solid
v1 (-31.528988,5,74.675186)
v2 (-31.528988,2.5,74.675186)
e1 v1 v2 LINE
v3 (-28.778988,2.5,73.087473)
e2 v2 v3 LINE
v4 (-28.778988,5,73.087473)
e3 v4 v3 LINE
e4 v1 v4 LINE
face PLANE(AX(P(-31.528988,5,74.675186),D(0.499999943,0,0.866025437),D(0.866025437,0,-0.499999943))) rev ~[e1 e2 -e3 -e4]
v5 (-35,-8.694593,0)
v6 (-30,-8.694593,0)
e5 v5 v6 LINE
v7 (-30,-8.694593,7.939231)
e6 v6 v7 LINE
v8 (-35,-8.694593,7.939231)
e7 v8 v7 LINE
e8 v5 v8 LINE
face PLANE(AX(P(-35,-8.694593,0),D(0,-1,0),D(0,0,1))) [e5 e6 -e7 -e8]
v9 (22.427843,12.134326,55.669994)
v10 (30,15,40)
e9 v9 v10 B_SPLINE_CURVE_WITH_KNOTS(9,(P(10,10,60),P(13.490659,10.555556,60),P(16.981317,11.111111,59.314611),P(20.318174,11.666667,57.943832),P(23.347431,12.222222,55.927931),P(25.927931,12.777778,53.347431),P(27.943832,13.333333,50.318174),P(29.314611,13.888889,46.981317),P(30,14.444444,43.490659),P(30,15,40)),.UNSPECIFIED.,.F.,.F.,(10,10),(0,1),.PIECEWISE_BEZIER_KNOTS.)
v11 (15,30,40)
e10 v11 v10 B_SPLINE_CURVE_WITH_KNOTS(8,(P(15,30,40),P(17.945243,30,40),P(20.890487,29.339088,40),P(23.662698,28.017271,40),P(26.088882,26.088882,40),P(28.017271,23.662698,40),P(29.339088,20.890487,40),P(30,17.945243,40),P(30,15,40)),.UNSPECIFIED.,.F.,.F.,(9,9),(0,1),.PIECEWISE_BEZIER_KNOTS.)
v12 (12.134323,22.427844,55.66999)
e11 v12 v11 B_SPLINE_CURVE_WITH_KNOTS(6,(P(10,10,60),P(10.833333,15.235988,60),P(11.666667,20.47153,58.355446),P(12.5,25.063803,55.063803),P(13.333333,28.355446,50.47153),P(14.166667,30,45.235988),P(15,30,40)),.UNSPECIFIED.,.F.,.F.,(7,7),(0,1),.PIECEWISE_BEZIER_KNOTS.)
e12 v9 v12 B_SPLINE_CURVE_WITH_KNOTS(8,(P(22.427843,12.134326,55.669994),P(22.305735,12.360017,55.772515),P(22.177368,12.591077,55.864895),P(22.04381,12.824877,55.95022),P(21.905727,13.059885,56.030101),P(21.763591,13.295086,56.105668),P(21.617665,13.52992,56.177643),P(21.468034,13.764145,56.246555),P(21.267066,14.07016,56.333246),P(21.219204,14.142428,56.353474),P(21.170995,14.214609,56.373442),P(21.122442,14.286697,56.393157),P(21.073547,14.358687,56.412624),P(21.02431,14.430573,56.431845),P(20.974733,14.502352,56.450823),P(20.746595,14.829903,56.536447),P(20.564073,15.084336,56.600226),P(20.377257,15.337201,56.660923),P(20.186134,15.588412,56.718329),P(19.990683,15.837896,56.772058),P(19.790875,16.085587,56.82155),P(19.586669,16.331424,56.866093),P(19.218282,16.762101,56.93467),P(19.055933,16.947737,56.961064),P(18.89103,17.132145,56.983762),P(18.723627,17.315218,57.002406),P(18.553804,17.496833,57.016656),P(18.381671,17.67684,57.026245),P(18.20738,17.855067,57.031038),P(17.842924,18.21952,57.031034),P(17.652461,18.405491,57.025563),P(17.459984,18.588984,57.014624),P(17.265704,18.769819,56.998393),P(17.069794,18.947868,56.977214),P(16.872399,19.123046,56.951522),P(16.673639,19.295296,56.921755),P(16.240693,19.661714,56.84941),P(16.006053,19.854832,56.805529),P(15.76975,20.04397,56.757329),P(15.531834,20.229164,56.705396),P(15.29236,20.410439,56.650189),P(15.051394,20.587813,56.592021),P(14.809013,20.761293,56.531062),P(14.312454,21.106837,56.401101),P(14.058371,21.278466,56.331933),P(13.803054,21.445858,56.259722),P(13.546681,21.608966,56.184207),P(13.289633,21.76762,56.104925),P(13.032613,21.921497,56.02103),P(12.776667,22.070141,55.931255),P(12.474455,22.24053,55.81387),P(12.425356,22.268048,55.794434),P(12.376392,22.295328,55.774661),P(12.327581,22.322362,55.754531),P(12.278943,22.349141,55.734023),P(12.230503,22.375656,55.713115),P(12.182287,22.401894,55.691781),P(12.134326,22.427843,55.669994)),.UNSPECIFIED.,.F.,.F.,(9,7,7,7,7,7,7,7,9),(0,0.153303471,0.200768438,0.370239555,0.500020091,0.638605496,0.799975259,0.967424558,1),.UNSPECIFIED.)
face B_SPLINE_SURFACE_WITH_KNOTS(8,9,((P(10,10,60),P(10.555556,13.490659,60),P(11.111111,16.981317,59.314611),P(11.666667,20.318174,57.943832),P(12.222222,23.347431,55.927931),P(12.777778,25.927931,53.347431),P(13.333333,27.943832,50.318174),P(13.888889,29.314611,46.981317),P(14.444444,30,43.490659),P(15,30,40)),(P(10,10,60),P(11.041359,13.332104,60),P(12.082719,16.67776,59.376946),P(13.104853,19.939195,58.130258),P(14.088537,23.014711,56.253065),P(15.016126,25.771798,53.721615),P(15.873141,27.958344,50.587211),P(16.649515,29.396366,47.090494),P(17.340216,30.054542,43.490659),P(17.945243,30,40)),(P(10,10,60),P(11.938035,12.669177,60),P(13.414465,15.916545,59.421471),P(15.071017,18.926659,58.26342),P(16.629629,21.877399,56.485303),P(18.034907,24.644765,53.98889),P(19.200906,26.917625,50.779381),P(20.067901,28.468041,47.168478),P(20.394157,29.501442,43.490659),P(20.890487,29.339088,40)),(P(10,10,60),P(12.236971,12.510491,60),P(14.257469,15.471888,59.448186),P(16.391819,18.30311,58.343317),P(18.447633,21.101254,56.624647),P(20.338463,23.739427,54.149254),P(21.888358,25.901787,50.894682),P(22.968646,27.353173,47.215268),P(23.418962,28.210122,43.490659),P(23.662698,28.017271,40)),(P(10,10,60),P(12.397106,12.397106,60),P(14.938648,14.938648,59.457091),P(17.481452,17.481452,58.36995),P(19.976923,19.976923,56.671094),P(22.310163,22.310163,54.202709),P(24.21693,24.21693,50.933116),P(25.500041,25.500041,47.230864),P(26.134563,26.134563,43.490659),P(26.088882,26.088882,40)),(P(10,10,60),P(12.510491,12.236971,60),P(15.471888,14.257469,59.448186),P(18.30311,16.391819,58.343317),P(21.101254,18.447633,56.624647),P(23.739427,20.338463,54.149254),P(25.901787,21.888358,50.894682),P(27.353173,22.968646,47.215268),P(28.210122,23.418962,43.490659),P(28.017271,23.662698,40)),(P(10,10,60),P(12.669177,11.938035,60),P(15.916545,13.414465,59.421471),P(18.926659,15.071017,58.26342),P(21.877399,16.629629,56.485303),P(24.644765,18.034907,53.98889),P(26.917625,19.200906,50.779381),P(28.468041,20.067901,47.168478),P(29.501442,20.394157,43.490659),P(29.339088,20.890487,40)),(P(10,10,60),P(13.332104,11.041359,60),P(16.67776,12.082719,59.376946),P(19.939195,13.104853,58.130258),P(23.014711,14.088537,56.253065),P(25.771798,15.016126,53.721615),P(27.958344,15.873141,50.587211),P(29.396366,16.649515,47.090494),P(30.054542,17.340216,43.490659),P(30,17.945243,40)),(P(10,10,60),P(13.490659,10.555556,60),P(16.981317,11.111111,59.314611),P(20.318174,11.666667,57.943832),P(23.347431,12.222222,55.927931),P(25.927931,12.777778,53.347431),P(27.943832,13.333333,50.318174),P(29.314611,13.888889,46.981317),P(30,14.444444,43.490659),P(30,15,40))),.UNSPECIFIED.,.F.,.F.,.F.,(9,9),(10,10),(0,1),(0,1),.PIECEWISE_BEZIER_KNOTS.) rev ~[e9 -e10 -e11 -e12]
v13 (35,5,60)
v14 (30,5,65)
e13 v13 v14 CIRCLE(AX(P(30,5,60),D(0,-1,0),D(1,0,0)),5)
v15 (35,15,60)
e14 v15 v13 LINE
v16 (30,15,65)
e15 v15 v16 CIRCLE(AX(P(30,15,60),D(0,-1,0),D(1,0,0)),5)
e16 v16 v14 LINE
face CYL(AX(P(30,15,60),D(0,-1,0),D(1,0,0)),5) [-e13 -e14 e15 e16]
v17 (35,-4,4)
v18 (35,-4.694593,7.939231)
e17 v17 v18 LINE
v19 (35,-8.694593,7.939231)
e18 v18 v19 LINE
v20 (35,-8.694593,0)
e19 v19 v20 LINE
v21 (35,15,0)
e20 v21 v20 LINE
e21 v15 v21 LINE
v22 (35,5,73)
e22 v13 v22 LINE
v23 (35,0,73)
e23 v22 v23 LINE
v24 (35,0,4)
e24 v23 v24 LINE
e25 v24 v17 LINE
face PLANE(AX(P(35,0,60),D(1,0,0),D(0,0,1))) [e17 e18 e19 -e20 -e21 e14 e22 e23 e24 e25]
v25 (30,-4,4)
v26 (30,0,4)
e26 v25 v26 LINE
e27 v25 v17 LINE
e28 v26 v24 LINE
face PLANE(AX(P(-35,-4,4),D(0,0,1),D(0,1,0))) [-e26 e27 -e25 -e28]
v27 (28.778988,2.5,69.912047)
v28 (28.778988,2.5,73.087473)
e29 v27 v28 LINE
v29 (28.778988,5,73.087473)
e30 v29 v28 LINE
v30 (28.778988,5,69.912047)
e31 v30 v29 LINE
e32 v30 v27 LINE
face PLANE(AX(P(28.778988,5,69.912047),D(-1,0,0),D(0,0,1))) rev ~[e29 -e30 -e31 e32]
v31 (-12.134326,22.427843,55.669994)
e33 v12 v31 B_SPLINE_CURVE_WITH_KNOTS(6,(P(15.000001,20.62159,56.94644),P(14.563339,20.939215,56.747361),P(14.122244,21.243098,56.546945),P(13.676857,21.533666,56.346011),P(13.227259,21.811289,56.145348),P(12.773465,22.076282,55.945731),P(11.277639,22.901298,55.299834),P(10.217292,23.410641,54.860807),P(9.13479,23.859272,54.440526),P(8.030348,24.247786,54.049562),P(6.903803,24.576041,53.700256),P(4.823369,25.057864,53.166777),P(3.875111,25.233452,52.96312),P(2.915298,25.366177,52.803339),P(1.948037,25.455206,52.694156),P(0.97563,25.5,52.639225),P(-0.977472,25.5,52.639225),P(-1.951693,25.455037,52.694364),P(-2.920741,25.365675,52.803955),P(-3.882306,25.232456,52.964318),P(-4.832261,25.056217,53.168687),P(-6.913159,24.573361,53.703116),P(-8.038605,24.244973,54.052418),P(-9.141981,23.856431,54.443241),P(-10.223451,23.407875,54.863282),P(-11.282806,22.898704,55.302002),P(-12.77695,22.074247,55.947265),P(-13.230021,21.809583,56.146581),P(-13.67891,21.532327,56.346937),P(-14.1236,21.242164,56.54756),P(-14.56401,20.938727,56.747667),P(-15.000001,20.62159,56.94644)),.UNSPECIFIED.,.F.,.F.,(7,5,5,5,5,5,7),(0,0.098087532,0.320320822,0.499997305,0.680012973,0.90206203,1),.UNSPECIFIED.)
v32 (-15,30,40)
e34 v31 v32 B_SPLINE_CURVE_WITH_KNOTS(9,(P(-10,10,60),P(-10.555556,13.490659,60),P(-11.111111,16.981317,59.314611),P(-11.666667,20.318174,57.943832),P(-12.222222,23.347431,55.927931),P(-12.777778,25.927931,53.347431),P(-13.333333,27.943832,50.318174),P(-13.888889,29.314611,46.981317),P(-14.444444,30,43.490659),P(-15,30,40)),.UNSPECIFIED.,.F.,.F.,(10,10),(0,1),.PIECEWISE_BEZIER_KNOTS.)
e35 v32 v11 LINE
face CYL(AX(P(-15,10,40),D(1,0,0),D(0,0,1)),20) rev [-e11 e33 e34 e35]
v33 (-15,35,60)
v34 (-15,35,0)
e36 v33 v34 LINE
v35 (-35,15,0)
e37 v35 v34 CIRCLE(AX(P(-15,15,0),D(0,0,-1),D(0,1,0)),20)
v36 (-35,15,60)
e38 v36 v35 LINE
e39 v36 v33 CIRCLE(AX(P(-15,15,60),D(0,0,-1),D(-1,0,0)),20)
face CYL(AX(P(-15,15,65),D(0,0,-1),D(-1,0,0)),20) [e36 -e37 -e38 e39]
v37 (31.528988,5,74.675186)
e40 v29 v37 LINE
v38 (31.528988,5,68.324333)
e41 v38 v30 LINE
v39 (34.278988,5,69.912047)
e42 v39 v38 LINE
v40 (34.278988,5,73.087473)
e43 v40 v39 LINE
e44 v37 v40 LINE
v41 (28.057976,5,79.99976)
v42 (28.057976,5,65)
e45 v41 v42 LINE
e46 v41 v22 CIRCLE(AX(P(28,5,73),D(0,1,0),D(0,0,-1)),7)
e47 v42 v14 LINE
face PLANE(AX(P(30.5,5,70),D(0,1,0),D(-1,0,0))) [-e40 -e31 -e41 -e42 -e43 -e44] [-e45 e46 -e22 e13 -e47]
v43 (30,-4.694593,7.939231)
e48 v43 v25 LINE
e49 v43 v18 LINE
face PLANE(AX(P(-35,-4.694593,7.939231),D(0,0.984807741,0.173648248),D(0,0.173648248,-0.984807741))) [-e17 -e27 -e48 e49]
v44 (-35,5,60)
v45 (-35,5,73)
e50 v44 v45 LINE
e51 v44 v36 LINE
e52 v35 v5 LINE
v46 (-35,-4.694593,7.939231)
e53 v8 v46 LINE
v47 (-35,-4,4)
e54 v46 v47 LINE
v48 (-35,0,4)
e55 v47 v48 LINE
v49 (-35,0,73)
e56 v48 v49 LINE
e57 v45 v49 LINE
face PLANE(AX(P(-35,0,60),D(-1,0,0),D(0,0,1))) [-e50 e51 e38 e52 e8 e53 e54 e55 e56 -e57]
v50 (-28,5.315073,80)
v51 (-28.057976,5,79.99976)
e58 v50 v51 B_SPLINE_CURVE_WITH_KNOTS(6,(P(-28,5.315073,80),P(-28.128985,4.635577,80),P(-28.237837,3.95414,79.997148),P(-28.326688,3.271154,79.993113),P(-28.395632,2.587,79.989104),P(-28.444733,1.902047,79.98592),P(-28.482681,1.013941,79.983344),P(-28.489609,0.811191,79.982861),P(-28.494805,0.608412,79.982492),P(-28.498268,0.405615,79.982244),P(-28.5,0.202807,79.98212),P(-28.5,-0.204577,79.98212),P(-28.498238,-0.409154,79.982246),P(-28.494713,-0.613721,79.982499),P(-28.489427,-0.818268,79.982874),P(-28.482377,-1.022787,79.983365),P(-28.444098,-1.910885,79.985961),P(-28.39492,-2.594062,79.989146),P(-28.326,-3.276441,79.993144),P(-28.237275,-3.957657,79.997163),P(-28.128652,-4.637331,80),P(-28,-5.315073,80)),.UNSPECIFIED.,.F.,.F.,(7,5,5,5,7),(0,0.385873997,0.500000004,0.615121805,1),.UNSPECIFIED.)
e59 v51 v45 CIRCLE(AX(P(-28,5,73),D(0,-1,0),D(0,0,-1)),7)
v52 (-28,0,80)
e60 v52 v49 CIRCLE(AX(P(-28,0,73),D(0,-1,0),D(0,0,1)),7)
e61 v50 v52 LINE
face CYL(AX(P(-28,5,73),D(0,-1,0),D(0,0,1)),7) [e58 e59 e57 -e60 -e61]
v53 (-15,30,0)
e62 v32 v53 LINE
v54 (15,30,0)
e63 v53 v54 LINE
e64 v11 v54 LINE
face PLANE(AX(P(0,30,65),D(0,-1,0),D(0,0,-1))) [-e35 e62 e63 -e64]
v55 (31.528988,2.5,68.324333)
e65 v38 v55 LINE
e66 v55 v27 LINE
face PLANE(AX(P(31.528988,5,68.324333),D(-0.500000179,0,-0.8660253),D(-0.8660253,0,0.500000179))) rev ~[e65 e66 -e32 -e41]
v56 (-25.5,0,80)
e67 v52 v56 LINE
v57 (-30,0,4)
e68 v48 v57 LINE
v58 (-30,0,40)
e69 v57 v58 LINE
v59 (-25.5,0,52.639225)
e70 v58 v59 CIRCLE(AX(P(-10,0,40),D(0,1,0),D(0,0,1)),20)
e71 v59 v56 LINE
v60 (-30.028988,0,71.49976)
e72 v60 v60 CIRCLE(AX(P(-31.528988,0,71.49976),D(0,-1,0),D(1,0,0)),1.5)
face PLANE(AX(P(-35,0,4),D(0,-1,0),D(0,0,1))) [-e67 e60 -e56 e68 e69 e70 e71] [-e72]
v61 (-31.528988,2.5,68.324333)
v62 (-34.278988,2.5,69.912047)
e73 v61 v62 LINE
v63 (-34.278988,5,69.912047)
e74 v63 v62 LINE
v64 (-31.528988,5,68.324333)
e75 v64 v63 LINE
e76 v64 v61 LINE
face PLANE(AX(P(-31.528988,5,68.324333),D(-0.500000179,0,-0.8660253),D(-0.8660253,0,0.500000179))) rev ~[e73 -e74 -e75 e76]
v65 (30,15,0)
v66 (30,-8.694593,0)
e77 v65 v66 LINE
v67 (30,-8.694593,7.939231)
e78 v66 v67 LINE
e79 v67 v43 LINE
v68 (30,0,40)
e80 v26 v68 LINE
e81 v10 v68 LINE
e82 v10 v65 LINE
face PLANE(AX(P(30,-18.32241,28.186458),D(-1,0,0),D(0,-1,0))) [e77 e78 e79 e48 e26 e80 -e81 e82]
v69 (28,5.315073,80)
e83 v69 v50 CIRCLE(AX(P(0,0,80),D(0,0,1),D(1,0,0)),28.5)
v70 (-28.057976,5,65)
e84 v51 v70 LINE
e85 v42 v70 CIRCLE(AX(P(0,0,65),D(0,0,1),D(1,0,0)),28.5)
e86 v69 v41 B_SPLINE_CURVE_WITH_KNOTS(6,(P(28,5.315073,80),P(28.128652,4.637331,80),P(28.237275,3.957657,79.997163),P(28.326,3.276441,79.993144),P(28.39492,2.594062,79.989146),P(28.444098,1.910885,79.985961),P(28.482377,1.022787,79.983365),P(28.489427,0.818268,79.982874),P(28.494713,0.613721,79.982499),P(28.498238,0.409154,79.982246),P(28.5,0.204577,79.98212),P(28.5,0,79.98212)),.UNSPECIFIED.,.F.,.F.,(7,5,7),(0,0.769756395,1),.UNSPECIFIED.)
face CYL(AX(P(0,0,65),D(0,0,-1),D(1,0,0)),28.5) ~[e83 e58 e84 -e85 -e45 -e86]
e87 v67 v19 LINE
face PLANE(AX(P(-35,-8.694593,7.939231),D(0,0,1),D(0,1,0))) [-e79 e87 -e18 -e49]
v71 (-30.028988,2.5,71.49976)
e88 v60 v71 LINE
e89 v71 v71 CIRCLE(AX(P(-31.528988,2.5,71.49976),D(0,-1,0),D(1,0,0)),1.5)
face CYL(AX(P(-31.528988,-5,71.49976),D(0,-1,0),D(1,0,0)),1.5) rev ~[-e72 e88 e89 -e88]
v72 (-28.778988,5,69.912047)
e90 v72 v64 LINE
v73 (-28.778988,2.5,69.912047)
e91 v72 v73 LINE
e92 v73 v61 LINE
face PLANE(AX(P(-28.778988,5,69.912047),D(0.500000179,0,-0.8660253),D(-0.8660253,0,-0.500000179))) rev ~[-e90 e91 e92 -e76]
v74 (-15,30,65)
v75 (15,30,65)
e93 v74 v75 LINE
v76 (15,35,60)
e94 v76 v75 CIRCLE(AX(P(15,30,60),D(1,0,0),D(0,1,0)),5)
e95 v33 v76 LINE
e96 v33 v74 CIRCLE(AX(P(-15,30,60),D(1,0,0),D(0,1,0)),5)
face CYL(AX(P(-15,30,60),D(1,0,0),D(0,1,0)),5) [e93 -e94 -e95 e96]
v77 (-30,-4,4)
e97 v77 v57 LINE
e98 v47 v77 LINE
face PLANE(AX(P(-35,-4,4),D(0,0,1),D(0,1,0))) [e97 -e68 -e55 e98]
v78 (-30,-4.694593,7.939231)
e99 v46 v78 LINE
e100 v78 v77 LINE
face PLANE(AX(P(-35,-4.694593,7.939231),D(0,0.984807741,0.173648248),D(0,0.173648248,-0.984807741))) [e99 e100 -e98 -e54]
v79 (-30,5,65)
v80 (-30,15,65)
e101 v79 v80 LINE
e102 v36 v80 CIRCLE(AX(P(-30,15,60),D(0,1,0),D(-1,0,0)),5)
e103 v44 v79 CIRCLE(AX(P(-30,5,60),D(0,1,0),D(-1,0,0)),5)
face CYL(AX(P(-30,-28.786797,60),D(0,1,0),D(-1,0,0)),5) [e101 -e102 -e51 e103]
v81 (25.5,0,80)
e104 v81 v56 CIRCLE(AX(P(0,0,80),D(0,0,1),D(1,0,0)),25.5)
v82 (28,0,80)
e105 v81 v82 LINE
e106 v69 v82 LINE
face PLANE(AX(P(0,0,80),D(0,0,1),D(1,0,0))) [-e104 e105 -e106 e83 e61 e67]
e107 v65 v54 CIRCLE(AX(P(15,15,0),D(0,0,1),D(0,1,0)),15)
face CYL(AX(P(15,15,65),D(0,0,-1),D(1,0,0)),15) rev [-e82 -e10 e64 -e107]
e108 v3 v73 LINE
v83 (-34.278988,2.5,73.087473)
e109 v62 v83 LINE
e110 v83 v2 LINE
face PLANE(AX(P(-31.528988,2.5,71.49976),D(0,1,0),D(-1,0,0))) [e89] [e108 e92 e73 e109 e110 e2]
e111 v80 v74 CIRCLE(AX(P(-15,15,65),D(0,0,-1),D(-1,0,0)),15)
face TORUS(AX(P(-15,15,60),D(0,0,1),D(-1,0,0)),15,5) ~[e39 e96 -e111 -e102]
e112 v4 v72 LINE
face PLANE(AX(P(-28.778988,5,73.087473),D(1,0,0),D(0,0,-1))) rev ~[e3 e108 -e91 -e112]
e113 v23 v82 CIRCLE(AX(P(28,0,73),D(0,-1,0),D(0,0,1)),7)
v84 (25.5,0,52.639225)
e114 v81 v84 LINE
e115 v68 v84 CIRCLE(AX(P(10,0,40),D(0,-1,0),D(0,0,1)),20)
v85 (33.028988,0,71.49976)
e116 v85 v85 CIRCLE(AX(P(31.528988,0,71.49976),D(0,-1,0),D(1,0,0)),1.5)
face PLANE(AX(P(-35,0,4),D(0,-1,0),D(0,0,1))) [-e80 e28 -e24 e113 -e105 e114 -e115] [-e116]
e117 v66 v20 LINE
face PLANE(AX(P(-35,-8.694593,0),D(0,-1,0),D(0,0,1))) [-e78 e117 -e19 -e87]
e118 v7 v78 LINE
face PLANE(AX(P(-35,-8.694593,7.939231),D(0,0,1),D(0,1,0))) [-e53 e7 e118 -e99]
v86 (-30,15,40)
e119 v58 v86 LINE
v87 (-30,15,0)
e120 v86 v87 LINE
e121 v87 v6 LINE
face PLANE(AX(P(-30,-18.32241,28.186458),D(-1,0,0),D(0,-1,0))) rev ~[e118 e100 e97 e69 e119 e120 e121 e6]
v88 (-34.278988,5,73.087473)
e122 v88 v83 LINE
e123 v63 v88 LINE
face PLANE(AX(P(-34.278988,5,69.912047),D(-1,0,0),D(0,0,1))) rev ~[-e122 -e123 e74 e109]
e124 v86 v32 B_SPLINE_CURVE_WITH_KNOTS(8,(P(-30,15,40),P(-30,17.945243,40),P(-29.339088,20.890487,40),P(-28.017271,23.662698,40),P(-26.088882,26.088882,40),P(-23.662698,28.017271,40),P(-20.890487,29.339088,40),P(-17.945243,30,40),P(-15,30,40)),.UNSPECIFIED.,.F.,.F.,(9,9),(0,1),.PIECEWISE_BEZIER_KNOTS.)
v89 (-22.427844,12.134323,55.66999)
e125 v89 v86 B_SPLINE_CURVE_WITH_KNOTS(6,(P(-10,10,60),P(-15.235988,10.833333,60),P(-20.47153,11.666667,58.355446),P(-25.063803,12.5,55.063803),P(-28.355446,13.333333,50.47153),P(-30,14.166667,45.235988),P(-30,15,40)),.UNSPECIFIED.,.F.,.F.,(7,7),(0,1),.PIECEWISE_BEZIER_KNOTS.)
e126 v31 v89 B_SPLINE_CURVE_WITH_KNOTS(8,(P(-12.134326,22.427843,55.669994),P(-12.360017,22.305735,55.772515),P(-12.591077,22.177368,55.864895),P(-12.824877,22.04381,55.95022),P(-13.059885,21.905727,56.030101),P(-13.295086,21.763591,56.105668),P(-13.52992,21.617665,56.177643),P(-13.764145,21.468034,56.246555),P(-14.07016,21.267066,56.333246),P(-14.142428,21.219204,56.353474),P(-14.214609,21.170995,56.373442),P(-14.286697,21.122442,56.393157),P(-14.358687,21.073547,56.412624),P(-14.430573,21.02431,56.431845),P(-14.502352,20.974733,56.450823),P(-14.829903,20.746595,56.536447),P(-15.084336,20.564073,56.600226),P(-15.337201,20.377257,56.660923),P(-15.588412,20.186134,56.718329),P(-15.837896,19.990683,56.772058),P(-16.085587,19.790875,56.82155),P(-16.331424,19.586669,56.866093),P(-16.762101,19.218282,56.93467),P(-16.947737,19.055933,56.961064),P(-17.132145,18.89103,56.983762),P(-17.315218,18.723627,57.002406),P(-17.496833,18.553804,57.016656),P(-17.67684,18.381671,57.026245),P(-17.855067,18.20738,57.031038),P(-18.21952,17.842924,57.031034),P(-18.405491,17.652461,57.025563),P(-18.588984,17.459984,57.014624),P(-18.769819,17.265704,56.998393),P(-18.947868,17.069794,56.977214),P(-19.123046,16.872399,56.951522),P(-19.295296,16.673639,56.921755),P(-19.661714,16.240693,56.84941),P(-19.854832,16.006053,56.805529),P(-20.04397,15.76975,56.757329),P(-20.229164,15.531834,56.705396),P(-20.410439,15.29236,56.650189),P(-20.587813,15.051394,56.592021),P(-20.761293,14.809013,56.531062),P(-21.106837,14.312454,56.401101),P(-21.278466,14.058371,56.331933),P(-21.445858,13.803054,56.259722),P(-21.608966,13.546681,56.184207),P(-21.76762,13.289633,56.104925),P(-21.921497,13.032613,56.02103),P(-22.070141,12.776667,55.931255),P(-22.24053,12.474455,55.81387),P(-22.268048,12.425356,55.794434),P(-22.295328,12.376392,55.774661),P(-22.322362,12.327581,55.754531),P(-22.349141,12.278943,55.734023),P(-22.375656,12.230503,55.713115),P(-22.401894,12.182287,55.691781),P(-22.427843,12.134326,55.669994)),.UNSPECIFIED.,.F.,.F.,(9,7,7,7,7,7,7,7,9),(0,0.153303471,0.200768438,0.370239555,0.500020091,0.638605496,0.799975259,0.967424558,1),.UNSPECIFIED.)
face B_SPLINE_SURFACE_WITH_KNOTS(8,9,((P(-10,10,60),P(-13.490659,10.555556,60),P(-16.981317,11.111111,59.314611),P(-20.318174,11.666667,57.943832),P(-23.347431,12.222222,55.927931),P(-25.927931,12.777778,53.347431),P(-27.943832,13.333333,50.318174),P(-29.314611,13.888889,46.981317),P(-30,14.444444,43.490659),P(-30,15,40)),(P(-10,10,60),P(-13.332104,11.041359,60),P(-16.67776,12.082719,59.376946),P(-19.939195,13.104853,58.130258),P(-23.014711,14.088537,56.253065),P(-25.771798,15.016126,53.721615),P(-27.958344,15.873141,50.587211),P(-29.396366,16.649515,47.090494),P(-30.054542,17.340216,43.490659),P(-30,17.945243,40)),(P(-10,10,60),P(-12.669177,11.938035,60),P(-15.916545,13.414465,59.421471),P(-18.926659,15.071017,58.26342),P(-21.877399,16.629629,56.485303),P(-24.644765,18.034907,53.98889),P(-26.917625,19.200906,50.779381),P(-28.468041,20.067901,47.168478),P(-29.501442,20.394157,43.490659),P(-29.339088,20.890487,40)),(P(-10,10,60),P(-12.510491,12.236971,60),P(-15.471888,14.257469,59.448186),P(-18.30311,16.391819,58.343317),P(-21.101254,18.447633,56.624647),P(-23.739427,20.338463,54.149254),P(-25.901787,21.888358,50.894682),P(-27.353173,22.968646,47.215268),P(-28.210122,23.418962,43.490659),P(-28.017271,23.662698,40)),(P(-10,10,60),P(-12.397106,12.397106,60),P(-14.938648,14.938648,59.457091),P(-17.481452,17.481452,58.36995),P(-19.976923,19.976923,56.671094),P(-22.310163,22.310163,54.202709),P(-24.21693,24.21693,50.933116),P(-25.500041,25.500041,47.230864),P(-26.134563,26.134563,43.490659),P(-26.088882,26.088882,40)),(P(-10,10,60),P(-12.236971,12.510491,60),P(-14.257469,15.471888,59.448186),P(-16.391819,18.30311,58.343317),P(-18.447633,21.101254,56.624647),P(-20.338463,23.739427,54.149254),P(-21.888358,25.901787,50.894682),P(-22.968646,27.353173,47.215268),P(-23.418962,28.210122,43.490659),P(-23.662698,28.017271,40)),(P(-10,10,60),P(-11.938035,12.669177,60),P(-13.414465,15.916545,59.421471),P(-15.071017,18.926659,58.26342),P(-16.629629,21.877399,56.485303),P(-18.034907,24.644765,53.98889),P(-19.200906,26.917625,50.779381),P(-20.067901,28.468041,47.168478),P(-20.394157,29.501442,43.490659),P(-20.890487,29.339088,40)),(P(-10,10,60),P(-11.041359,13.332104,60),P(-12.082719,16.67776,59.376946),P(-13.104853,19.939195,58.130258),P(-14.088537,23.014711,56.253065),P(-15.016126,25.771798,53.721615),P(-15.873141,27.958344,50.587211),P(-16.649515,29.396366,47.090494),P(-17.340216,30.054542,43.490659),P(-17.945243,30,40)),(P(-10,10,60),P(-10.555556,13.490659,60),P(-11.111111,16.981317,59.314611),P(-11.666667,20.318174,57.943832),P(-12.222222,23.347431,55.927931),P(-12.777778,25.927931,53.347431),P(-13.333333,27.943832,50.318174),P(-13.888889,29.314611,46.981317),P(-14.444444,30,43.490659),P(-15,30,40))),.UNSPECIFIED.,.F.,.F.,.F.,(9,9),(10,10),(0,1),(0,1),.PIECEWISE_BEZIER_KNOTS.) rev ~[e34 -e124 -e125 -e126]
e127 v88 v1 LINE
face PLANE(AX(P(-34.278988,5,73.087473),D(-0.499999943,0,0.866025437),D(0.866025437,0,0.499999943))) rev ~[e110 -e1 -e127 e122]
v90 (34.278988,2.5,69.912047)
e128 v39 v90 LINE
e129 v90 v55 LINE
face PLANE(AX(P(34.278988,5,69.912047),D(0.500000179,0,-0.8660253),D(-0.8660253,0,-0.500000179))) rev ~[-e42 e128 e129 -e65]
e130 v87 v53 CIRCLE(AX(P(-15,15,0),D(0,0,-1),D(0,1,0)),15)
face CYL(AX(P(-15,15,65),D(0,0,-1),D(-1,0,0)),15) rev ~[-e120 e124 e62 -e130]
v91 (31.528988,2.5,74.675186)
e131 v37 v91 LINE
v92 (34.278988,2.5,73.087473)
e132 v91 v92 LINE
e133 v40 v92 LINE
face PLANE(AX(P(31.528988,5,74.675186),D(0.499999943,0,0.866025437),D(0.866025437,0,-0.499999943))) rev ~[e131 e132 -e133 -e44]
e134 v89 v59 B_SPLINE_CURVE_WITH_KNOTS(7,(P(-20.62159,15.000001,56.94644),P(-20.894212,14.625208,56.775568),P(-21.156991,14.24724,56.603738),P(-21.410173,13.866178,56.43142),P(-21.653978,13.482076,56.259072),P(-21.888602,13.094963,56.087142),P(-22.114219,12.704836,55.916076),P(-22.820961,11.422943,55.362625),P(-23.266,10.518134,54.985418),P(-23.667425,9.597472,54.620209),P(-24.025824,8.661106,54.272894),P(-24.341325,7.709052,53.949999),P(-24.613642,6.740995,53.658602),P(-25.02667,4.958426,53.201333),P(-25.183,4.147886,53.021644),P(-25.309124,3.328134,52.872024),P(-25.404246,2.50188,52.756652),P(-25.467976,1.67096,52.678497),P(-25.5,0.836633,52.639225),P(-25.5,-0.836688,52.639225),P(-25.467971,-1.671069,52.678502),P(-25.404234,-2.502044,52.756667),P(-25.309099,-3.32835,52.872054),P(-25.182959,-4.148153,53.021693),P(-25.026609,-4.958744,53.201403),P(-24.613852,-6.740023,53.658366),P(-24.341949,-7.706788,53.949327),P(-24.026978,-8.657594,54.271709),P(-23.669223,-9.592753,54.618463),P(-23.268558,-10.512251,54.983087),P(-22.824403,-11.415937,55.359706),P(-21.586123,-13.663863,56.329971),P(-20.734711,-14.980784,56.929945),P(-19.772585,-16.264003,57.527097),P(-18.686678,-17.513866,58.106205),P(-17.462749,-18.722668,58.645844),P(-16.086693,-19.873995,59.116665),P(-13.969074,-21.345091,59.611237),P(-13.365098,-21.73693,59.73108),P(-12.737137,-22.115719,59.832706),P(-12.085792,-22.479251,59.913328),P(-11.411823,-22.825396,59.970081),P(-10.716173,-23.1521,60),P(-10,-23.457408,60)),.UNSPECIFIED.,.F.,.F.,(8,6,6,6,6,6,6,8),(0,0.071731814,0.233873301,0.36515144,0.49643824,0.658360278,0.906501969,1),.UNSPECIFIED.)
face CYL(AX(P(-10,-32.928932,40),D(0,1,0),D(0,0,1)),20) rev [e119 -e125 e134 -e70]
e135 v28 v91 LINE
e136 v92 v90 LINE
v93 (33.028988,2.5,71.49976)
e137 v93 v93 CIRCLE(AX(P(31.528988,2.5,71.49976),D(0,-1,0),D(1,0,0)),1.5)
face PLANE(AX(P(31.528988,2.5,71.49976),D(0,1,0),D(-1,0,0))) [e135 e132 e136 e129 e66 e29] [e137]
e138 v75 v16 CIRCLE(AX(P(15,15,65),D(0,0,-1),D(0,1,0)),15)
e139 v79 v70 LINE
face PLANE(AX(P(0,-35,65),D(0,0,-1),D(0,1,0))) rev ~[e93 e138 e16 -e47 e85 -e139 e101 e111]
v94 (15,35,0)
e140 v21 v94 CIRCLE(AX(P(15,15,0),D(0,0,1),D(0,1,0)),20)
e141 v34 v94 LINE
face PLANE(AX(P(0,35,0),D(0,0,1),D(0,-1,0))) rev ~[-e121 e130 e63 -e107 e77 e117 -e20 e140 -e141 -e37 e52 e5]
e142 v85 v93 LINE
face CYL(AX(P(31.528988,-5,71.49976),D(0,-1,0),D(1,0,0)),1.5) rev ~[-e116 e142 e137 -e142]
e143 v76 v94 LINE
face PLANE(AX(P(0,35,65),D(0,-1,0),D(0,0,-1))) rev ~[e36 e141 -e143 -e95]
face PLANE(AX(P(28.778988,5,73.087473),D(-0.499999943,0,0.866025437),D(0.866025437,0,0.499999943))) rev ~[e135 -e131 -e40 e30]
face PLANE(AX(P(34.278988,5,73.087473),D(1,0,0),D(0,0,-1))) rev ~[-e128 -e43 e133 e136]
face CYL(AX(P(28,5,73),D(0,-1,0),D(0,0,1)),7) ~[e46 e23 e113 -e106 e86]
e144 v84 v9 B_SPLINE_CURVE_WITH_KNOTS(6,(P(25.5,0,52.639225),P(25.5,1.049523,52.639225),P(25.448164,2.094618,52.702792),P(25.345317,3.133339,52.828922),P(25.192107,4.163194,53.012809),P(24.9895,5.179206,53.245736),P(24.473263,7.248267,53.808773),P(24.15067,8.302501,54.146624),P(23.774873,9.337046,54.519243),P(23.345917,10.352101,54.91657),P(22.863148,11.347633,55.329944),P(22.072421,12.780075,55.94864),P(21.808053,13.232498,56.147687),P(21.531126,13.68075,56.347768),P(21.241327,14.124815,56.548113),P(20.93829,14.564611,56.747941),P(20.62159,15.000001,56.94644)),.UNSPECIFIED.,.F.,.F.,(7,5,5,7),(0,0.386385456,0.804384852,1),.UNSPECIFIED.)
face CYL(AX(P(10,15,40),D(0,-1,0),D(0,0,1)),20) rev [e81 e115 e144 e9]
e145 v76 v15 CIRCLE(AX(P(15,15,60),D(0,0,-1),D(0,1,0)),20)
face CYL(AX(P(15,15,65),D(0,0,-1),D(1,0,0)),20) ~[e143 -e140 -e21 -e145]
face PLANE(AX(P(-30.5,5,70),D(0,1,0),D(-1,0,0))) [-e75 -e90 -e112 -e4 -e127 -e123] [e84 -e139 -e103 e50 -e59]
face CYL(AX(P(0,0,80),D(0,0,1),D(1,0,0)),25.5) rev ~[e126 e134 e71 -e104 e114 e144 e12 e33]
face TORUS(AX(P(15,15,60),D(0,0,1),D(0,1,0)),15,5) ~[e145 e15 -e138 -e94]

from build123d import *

# Parameters (mm, degrees)
PAD_DEPTH       = 35
SKETCH001_R     = 27.5
PAD001_DEPTH    = 30
FILLET_R        = 20
THICKNESS_T     = -5
FILLET001_R     = 15
FILLET002_R     = 5
CHAMFER_SIZE2   = 25
CHAMFER_SIZE    = 3
FILLET003_R     = 20
SKETCH002_R     = 28.5
PAD002_DEPTH    = 15
SKETCH003_R     = 25.5
POCKET_DEPTH    = 80.001
SKETCH004_W     = 9
SKETCH004_H     = 20
PAD003_DEPTH    = 5
FILLET004_R     = 7
SKETCH006_R     = 1.5
POCKET002_DEPTH = 40.001
POCKET003_DEPTH = 2.5
POCKET004_DEPTH = 70.001


with BuildPart() as part:
    # Sketch → Pad (new body, symmetric)
    with BuildSketch(Plane.YZ):
        Polygon((-85, 0), (-85, 15), (-35, 65), (35, 65), (35, 0), align=None)
    extrude(amount=PAD_DEPTH, both=True)

    # Sketch001 (on Face2 of Pad) → Pad001 (join)
    with BuildSketch(Plane(origin=(0, -50, 50), x_dir=(0, -0.707107, -0.707107), z_dir=(0, -0.707107, 0.707107))):
        with Locations((14.142136, 0)):
            Circle(SKETCH001_R)
    extrude(amount=PAD001_DEPTH)

    # Fillet
    fillet_edges = [part.edges().sort_by_distance(p)[0] for p in [
        (-35, 35, 32.5),
        (-35, -85, 7.5),
        (35, -85, 7.5),
        (35, 35, 32.5),
    ]]
    fillet(fillet_edges, radius=FILLET_R)

    # Thickness
    thickness_openings = [part.faces().sort_by_distance(p)[0] for p in [
        (0, -25, 0),
        (0, -81.213203, 61.213203),
    ]]
    offset(amount=THICKNESS_T, openings=thickness_openings)

    # Fillet001
    fillet001_edges = [part.edges().sort_by_distance(p)[0] for p in [
        (0, -35, 65),
    ]]
    fillet(fillet001_edges, radius=FILLET001_R)

    # Fillet002
    fillet002_edges = [part.edges().sort_by_distance(p)[0] for p in [
        (-35, -6.893398, 65),
    ]]
    fillet(fillet002_edges, radius=FILLET002_R)

    # Chamfer
    chamfer_edges = [part.edges().sort_by_distance(p)[0] for p in [
        (0, -65.303301, 77.123106),
    ]]
    chamfer_side = part.faces().sort_by_distance((0, -62.317767, 80.10864))[0]
    chamfer(chamfer_edges, length=CHAMFER_SIZE, length2=CHAMFER_SIZE2, reference=chamfer_side)

    # Fillet003
    fillet003_edges = [part.edges().sort_by_distance(p)[0] for p in [
        (-25.606602, 25.606602, 60),
    ]]
    fillet(fillet003_edges, radius=FILLET003_R)

    # Sketch002 (on Face41 of Fillet003) → Pad002 (join)
    with BuildSketch(Plane.XY.offset(65)):
        Circle(SKETCH002_R)
    extrude(amount=PAD002_DEPTH)

    # Sketch003 (on Face46 of Pad002) → Pocket (cut, through all)
    with BuildSketch(Plane.XY.offset(80)):
        Circle(SKETCH003_R)
    extrude(amount=-POCKET_DEPTH, mode=Mode.SUBTRACT)

    # Sketch004 → Pad003 (join, symmetric)
    with BuildSketch(Plane(origin=(0, 0, 0), x_dir=(-1, 0, 0), z_dir=(0, 1, 0))):
        with Locations((-30.5, 70)):
            Rectangle(SKETCH004_W, SKETCH004_H)
        with Locations((30.5, 70)):
            Rectangle(SKETCH004_W, SKETCH004_H)
    extrude(amount=PAD003_DEPTH, both=True)

    # Fillet004
    fillet004_edges = [part.edges().sort_by_distance(p)[0] for p in [
        (35, 0, 80),
        (-35, 0, 80),
    ]]
    fillet(fillet004_edges, radius=FILLET004_R)

    # Sketch006 (on Face2 of Fillet004) → Pocket002 (cut, through all)
    with BuildSketch(Plane.XZ.offset(5)):
        with Locations((-31.528988, 71.49976)):
            Circle(SKETCH006_R)
        with Locations((31.528988, 71.49976)):
            Circle(SKETCH006_R)
    extrude(amount=-POCKET002_DEPTH, mode=Mode.SUBTRACT)

    # Sketch007 (on Face11 of Pocket002) → Pocket003 (cut)
    with BuildSketch(Plane(origin=(0, 5, 0), x_dir=(-1, 0, 0), z_dir=(0, 1, 0))):
        Polygon((-28.778988, 69.912047), (-28.778988, 73.087473), (-31.528988, 74.675186), (-34.278988, 73.087473), (-34.278988, 69.912047), (-31.528988, 68.324333), align=None)
        Polygon((34.278988, 69.912047), (34.278988, 73.087473), (31.528988, 74.675186), (28.778988, 73.087473), (28.778988, 69.912047), (31.528988, 68.324333), align=None)
    extrude(amount=-POCKET003_DEPTH, mode=Mode.SUBTRACT)

    # Sketch008 (on Face16 of Pocket003) → Pocket004 (cut, through all)
    with BuildSketch(Plane(origin=(-35, 0, 0), x_dir=(0, -1, 0), z_dir=(-1, 0, 0))):
        Polygon((0, 94.046894), (120.73246, 94.046894), (120.73246, 0), (8.694593, 0), (8.694593, 7.939231), (4.694593, 7.939231), (4, 4), (0, 4), align=None)
    extrude(amount=-POCKET004_DEPTH, mode=Mode.SUBTRACT)


solid = part.part
